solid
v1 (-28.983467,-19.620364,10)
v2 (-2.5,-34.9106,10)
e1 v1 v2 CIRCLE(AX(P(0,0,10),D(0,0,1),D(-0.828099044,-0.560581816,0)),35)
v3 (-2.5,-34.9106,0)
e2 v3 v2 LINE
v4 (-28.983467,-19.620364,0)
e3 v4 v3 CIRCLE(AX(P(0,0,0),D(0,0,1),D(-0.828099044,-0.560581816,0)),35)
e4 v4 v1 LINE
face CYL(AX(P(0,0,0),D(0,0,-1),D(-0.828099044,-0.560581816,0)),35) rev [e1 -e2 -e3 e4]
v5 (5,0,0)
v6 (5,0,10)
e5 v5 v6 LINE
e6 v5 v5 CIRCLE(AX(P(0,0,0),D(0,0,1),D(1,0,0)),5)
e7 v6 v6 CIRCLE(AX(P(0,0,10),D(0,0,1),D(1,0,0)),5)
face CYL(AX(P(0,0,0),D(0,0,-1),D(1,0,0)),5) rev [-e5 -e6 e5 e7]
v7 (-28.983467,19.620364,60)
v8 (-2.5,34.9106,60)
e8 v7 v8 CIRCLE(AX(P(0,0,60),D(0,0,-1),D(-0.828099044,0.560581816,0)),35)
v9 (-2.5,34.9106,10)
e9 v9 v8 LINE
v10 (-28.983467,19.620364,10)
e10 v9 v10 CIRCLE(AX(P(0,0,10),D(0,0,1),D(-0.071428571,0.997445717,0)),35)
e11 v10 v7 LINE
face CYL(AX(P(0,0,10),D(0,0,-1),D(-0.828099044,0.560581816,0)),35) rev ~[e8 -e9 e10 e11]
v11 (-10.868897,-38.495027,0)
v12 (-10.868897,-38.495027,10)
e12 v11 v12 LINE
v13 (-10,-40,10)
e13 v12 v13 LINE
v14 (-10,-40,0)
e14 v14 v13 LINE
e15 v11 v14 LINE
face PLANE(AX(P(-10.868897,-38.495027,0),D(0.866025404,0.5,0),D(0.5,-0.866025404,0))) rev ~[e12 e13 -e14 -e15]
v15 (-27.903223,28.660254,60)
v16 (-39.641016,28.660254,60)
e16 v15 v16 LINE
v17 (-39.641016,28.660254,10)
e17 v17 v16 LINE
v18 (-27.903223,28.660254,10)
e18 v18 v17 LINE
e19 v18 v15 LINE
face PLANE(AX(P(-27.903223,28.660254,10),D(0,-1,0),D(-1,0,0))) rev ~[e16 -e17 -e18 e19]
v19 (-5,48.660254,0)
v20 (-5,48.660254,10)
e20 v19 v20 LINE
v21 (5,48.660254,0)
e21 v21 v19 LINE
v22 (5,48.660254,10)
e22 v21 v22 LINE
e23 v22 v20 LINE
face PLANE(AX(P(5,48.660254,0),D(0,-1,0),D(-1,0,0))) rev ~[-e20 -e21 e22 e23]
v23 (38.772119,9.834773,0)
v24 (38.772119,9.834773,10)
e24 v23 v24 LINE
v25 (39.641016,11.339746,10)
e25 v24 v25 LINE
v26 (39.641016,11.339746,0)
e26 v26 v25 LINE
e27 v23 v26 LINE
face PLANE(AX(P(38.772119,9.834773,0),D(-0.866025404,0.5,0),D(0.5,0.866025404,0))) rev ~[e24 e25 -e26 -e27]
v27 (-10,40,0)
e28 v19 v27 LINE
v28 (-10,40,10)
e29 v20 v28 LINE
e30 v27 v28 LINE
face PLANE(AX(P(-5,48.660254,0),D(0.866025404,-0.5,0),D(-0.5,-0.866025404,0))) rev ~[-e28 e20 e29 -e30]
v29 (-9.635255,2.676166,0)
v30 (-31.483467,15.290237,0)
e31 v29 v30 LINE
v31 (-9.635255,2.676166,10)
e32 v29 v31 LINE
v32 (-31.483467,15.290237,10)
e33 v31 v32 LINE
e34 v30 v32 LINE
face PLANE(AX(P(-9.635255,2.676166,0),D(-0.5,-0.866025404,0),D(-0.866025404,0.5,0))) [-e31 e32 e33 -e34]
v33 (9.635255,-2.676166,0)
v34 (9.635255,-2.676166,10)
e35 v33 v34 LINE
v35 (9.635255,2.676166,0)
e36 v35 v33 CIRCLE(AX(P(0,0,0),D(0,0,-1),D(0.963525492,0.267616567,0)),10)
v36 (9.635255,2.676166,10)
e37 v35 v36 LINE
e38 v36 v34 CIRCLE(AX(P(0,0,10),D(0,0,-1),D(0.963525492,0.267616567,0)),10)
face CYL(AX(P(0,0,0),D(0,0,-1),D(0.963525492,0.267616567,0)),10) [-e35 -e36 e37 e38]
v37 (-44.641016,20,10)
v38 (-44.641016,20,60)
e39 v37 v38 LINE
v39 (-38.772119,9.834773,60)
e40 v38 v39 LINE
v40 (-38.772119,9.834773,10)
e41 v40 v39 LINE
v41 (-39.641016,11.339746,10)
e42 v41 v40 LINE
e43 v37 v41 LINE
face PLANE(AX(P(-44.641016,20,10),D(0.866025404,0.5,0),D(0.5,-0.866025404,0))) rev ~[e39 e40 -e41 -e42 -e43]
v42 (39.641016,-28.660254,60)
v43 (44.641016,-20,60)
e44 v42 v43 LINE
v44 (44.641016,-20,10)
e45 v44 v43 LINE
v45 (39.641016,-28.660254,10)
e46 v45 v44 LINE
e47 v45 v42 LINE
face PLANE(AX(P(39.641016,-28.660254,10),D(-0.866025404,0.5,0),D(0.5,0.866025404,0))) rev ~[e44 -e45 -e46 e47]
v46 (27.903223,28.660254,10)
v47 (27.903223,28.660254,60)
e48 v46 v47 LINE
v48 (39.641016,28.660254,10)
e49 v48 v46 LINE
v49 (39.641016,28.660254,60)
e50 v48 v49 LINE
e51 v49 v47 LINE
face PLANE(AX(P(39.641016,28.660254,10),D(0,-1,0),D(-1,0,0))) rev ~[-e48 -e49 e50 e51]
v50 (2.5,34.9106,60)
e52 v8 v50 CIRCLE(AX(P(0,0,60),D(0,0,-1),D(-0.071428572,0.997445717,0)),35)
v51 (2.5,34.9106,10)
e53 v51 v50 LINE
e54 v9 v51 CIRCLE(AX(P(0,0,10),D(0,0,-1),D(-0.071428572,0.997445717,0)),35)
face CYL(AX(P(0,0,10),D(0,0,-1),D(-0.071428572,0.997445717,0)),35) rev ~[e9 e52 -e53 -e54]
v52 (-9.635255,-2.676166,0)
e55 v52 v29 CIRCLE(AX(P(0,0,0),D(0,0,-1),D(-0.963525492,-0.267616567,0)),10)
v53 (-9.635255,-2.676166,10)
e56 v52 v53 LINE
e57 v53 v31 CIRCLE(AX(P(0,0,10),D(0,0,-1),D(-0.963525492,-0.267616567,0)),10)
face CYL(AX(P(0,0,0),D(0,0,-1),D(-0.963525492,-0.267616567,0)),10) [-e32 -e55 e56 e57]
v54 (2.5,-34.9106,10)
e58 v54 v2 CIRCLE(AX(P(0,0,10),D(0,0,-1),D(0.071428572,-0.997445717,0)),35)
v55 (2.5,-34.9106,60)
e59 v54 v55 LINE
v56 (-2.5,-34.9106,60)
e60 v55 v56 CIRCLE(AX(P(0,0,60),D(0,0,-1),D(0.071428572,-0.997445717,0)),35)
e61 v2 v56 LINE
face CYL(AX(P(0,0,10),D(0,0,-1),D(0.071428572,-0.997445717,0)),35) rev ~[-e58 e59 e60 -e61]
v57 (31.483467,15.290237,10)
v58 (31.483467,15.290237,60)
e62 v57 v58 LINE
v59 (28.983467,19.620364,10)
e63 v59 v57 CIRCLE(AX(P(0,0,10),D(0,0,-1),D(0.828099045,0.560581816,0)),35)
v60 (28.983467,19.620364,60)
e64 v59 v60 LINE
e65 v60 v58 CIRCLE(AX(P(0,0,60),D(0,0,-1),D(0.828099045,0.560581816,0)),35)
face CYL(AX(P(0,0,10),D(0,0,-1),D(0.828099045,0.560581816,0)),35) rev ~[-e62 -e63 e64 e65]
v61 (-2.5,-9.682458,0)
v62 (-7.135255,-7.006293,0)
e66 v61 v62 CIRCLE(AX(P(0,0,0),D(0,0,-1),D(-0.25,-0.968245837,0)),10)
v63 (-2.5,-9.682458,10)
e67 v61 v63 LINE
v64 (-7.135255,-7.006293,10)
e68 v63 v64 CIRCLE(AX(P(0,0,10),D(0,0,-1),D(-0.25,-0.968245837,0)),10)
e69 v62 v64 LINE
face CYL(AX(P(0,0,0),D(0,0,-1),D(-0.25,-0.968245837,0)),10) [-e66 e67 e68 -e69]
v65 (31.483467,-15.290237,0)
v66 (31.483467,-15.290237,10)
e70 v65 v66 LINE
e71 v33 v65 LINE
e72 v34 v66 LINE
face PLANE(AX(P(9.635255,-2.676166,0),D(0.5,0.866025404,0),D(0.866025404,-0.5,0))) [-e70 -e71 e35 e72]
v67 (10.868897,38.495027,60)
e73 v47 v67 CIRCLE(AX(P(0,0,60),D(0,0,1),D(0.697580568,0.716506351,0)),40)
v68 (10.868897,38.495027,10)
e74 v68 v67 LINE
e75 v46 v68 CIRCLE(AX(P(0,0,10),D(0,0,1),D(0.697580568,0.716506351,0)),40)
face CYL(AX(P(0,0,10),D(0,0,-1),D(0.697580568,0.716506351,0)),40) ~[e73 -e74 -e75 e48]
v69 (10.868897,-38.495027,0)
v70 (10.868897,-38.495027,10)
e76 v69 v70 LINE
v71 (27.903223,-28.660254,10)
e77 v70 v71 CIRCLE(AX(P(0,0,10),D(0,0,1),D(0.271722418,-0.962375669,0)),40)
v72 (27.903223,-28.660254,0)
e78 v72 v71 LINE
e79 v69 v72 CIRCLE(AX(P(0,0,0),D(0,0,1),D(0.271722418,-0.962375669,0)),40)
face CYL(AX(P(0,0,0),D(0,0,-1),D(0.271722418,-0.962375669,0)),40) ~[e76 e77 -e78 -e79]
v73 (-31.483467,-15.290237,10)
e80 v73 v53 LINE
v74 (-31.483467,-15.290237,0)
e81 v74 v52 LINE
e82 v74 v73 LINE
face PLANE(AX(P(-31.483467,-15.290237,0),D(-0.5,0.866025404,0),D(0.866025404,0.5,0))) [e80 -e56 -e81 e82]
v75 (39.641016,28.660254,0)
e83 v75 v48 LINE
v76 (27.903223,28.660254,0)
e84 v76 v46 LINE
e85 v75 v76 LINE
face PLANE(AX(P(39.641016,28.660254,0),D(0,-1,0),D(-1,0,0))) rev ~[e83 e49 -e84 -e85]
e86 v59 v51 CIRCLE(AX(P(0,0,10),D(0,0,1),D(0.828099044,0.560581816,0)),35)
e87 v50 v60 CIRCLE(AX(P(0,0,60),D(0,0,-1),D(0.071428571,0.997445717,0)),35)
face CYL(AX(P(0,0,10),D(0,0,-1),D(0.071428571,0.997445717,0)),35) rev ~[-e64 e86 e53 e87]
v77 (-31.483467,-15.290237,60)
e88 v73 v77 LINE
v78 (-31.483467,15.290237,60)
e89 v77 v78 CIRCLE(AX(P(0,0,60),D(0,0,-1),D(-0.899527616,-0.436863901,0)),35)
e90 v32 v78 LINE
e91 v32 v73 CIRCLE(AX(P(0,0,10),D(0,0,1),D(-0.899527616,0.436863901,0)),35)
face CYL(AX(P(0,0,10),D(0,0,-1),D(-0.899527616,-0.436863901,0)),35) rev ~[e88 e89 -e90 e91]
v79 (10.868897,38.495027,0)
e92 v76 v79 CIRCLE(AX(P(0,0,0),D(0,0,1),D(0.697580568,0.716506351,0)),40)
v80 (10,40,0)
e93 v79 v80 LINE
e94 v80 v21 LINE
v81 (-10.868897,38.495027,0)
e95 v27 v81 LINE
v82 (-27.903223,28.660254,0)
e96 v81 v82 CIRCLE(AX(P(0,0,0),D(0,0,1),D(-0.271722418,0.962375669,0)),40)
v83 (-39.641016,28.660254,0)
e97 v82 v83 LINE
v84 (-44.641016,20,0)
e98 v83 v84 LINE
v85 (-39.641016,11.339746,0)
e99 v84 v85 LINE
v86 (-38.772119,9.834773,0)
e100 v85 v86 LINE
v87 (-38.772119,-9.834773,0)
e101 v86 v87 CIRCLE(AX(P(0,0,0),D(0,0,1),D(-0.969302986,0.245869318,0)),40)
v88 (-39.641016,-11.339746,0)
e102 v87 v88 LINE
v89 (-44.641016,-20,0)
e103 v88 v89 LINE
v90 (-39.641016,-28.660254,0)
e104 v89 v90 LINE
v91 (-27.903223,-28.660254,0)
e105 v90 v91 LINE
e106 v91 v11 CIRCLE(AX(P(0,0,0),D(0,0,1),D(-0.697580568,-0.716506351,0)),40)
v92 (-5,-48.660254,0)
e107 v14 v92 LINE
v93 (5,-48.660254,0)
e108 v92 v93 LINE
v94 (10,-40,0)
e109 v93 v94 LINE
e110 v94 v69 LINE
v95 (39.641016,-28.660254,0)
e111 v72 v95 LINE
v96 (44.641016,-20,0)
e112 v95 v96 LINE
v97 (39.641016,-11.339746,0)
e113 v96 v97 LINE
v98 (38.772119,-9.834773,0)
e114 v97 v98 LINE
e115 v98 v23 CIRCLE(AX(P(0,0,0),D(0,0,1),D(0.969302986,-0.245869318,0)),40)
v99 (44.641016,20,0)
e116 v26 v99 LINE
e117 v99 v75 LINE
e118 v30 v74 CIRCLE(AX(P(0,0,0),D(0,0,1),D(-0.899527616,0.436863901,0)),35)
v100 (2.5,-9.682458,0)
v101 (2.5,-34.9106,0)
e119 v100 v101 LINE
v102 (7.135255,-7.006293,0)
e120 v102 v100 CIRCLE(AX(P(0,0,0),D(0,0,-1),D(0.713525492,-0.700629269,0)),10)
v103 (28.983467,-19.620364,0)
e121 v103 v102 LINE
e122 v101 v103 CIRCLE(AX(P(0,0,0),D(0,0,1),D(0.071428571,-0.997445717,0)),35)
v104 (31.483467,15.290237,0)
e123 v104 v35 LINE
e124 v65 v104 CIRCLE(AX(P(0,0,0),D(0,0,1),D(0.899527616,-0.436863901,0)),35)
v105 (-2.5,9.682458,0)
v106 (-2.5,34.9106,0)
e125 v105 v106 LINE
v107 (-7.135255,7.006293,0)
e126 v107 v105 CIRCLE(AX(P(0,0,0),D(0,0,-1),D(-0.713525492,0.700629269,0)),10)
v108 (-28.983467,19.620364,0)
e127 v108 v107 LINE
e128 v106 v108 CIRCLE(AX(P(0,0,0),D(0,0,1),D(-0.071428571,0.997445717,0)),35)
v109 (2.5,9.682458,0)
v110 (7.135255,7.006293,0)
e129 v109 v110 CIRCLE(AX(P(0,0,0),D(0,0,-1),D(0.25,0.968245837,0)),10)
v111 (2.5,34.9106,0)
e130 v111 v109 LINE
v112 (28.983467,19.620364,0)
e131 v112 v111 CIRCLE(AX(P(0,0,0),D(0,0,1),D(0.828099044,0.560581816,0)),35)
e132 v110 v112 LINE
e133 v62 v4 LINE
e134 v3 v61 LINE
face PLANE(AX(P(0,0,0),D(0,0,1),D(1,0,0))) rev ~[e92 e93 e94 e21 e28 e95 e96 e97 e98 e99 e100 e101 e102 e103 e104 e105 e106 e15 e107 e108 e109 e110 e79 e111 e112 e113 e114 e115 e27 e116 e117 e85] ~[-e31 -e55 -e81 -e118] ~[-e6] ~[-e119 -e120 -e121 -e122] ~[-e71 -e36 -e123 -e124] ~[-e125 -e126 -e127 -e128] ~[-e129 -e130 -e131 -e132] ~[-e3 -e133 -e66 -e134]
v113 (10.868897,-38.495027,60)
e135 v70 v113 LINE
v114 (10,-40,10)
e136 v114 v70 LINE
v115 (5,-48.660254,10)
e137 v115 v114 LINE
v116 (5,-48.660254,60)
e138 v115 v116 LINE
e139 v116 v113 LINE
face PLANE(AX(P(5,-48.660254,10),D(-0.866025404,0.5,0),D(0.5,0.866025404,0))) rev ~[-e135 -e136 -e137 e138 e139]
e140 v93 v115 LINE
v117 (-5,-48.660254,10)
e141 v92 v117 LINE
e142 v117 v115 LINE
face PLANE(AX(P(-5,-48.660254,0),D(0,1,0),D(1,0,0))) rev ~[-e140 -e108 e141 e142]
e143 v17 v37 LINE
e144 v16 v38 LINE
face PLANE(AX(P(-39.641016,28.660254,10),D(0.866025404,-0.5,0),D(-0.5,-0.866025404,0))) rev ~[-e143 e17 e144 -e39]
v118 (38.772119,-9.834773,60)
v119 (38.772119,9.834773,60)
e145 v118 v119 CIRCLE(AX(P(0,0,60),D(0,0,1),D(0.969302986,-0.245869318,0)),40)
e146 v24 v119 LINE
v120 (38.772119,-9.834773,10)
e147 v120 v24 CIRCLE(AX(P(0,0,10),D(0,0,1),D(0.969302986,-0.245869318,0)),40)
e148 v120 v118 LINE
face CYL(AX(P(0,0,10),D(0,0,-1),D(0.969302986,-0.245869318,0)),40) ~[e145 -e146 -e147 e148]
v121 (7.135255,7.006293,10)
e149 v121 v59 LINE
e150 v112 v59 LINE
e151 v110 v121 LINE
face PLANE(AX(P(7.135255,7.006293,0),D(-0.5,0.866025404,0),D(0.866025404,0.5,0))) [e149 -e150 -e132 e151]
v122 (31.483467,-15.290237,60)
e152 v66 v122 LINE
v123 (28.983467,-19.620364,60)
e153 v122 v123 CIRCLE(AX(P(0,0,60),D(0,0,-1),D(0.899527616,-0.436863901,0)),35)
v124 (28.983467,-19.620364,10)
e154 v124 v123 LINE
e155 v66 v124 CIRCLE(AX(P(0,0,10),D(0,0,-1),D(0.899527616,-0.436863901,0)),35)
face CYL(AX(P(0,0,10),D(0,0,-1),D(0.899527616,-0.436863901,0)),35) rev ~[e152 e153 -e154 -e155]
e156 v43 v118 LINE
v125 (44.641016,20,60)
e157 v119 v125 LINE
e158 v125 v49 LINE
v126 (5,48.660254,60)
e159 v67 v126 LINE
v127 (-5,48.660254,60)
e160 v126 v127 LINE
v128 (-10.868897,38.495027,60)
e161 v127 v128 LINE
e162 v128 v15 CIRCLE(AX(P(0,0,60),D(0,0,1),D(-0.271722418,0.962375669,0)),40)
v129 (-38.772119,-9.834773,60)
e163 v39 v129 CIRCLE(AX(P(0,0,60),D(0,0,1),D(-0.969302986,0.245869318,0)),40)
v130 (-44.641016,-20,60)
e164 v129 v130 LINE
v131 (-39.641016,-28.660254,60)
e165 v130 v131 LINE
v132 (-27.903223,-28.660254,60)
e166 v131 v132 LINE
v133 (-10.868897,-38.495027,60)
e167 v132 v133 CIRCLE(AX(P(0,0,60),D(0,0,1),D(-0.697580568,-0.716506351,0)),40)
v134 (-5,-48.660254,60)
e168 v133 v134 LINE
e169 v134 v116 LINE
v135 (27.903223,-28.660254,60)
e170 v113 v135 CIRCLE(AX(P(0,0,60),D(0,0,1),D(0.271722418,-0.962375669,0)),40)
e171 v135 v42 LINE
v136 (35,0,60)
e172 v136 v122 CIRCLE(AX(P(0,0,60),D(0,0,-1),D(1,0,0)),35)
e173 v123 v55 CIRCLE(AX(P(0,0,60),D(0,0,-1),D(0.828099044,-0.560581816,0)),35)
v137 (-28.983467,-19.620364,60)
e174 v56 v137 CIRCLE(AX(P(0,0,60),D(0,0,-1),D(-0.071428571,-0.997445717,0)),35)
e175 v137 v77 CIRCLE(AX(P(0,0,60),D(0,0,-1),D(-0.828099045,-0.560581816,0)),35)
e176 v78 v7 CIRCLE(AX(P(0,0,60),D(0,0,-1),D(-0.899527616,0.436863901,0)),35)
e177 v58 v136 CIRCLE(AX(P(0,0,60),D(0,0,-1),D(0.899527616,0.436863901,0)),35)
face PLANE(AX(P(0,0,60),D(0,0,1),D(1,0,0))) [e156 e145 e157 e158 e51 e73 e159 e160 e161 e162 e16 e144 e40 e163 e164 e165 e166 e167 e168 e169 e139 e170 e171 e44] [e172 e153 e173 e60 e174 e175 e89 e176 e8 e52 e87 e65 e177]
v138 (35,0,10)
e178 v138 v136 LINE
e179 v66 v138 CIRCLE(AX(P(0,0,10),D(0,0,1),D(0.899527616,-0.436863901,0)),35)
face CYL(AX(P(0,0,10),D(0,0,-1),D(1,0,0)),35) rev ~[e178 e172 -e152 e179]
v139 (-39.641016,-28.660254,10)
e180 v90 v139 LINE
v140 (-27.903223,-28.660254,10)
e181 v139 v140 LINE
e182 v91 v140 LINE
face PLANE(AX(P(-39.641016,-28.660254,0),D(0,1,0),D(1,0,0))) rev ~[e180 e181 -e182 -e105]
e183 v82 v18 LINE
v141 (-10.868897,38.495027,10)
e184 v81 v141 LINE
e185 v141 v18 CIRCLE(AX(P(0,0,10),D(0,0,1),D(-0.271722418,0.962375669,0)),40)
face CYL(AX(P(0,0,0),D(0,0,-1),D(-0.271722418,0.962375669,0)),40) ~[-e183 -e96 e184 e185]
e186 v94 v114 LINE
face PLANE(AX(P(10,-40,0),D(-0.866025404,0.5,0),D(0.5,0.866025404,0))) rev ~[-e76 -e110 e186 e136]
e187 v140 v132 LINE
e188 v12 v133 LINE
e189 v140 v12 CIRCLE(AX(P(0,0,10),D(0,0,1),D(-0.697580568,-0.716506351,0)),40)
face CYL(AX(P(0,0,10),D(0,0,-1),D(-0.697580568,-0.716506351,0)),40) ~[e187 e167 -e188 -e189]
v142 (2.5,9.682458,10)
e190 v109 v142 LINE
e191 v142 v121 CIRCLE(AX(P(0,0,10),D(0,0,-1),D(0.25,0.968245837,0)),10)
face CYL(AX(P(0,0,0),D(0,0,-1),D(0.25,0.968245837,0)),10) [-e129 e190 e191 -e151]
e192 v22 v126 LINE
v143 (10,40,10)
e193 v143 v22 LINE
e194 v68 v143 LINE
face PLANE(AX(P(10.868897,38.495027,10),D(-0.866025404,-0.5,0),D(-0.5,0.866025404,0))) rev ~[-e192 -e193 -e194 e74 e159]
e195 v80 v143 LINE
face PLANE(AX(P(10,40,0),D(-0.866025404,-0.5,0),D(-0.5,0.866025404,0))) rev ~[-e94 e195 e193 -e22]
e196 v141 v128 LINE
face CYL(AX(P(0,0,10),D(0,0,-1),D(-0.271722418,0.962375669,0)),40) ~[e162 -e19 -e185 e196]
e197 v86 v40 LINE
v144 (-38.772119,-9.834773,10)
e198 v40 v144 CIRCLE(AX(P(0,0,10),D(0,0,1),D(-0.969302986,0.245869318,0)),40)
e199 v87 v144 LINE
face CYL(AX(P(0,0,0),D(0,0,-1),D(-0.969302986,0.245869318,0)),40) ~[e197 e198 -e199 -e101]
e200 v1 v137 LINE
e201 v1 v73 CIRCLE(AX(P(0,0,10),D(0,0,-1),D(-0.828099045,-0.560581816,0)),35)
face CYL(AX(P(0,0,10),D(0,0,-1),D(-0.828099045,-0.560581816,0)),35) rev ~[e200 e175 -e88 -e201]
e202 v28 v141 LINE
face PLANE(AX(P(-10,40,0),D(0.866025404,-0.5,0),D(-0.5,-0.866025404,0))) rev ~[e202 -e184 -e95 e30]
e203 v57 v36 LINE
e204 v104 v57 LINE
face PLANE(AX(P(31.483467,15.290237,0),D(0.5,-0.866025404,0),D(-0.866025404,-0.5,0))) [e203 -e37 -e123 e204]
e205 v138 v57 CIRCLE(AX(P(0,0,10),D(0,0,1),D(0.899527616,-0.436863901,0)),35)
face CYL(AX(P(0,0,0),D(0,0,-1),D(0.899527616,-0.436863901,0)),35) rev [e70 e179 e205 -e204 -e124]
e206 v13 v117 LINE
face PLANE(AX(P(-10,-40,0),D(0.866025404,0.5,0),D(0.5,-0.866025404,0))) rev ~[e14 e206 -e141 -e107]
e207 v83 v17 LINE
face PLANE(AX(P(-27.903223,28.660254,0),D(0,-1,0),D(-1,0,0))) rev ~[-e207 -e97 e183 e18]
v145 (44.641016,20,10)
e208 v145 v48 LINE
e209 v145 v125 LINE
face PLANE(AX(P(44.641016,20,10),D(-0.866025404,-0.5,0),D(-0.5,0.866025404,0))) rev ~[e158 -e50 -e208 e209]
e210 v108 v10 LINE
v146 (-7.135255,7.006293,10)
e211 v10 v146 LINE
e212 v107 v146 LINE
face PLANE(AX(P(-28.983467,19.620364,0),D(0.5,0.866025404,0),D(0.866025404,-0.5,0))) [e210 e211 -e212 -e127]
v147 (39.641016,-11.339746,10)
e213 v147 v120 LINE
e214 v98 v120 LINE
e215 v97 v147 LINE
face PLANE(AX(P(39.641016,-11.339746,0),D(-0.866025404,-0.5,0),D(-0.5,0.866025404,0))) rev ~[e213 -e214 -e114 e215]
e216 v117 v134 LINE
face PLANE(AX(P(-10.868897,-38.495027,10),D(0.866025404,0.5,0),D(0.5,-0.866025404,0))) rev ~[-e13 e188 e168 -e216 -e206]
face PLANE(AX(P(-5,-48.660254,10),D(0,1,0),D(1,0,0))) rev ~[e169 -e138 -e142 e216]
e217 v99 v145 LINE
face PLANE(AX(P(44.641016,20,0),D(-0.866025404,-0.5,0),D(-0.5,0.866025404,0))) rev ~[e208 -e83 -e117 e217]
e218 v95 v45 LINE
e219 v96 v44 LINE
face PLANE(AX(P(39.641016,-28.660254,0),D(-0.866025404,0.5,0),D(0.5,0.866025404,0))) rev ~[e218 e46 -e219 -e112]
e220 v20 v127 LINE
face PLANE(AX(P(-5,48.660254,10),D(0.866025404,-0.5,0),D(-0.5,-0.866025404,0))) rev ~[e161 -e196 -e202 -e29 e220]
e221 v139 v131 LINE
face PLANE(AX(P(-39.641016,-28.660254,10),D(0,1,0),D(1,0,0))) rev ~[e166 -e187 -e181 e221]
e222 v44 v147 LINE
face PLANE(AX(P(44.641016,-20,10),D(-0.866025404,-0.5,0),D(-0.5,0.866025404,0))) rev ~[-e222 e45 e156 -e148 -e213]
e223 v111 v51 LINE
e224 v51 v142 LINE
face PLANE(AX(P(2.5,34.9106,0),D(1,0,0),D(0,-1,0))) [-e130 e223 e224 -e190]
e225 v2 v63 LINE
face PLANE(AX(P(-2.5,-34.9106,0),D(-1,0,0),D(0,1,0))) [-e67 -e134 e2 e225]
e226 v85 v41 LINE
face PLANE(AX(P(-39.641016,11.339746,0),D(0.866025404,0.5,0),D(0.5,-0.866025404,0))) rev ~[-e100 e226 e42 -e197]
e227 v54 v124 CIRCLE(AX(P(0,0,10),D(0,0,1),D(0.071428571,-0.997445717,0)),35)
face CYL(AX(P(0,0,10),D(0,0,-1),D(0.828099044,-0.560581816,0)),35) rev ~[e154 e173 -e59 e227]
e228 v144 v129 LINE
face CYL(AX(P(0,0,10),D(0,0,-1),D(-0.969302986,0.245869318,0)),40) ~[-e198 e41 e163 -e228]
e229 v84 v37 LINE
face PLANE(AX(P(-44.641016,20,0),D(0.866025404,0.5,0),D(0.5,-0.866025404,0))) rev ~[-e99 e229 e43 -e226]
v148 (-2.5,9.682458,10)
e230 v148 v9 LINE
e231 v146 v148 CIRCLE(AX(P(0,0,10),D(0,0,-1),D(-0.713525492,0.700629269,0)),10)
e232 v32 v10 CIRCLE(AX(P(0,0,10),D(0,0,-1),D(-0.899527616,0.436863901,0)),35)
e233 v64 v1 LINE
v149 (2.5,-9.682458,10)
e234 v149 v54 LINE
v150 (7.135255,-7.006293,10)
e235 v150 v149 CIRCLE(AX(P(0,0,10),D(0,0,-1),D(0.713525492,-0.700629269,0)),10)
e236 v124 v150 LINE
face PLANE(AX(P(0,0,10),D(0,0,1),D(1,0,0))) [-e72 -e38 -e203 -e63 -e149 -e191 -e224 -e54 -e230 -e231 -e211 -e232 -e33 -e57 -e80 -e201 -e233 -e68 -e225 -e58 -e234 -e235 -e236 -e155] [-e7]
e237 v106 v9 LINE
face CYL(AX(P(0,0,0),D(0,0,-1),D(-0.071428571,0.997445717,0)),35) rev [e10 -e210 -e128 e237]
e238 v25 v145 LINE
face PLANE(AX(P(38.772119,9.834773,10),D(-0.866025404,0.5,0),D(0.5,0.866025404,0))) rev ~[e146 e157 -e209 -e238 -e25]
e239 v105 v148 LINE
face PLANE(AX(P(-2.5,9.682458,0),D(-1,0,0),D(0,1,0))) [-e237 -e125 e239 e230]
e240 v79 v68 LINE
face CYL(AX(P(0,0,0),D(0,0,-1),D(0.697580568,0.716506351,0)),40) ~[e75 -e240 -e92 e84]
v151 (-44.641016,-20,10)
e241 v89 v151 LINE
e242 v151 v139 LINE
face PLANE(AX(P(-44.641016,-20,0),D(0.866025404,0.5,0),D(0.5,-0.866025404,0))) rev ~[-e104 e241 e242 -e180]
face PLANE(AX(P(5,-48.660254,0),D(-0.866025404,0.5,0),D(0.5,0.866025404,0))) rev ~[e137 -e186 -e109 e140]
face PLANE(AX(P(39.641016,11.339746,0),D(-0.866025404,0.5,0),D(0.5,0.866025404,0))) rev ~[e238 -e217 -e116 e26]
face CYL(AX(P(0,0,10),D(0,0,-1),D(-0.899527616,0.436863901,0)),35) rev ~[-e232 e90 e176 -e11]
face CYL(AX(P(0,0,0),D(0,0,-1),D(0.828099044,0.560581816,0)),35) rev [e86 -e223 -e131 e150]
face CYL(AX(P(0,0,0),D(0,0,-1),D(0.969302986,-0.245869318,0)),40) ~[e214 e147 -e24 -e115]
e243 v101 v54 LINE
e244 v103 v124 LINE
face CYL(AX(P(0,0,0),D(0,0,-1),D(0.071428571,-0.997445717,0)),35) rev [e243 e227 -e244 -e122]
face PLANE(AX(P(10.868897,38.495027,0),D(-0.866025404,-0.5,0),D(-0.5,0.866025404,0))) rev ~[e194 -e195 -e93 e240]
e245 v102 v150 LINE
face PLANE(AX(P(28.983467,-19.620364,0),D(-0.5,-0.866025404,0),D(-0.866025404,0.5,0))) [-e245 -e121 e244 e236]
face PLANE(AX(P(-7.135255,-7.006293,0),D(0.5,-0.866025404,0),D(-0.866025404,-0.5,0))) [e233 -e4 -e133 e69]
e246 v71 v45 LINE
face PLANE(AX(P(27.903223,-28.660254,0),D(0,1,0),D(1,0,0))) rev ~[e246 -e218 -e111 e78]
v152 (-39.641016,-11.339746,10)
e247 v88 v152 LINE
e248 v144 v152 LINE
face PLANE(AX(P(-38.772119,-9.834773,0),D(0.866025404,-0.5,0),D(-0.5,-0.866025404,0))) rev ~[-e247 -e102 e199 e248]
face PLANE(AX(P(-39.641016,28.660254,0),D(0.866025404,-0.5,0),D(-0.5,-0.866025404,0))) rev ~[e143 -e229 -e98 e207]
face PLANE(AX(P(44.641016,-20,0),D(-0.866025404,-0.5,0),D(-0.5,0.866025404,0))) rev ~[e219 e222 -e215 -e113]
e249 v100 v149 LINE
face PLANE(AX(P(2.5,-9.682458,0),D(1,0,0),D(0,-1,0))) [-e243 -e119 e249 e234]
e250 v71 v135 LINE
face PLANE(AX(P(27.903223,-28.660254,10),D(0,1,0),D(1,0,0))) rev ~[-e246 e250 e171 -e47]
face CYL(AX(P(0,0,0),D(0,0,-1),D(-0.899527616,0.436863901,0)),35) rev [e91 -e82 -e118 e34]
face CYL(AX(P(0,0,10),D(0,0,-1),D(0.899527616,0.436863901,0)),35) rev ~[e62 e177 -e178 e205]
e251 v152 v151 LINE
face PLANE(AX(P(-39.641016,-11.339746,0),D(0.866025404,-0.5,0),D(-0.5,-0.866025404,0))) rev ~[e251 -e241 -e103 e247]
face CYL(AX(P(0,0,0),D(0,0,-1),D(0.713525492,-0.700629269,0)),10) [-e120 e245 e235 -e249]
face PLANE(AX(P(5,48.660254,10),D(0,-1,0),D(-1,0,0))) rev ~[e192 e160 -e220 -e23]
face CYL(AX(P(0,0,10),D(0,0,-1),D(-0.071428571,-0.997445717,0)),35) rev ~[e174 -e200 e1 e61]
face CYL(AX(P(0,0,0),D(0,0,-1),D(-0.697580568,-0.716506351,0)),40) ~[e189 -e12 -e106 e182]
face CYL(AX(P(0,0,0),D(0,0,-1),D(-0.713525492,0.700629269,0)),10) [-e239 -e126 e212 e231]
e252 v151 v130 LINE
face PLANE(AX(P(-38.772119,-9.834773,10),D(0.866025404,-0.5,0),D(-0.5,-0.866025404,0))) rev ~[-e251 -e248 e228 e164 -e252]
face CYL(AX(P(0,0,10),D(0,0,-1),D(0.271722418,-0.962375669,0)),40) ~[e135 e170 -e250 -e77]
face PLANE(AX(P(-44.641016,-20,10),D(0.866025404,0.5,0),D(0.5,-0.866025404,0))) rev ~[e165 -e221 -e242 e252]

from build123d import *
from build123d.topology import SkipClean

# Parameters (mm, degrees)
SKETCH1_R           = 5
BOSS_EXTRUDE1_DEPTH = 10
BOSS_EXTRUDE2_DEPTH = 50


with BuildPart() as part:
    # Sketch1 → Boss-Extrude1 (new body)
    with BuildSketch(Plane.XY):
        with BuildLine():
            Line((-5, 48.660254038), (-10, 40))
            Line((-10, 40), (-10.868896713, 38.495026747))
            ThreePointArc((-10.868896713, 38.495026747), (-20, 34.641016151), (-27.903222726, 28.660254038))
            Line((-27.903222726, 28.660254038), (-29.641016151, 28.660254038))
            Line((-29.641016151, 28.660254038), (-39.641016151, 28.660254038))
            Line((-39.641016151, 28.660254038), (-44.641016151, 20))
            Line((-44.641016151, 20), (-39.641016151, 11.339745962))
            Line((-39.641016151, 11.339745962), (-38.772119439, 9.834772709))
            ThreePointArc((-38.772119439, 9.834772709), (-40, 0), (-38.772119439, -9.834772709))
            Line((-38.772119439, -9.834772709), (-39.641016151, -11.339745962))
            Line((-39.641016151, -11.339745962), (-44.641016151, -20))
            Line((-44.641016151, -20), (-39.641016151, -28.660254038))
            Line((-39.641016151, -28.660254038), (-29.641016151, -28.660254038))
            Line((-29.641016151, -28.660254038), (-27.903222726, -28.660254038))
            ThreePointArc((-27.903222726, -28.660254038), (-20, -34.641016151), (-10.868896713, -38.495026747))
            Line((-10.868896713, -38.495026747), (-10, -40))
            Line((-10, -40), (-5, -48.660254038))
            Line((-5, -48.660254038), (5, -48.660254038))
            Line((5, -48.660254038), (10, -40))
            Line((10, -40), (10.868896713, -38.495026747))
            ThreePointArc((10.868896713, -38.495026747), (20, -34.641016151), (27.903222726, -28.660254038))
            Line((27.903222726, -28.660254038), (29.641016151, -28.660254038))
            Line((29.641016151, -28.660254038), (39.641016151, -28.660254038))
            Line((39.641016151, -28.660254038), (44.641016151, -20))
            Line((44.641016151, -20), (39.641016151, -11.339745962))
            Line((39.641016151, -11.339745962), (38.772119439, -9.834772709))
            ThreePointArc((38.772119439, -9.834772709), (40, 0), (38.772119439, 9.834772709))
            Line((38.772119439, 9.834772709), (39.641016151, 11.339745962))
            Line((39.641016151, 11.339745962), (44.641016151, 20))
            Line((44.641016151, 20), (39.641016151, 28.660254038))
            Line((39.641016151, 28.660254038), (29.641016151, 28.660254038))
            Line((29.641016151, 28.660254038), (27.903222726, 28.660254038))
            ThreePointArc((27.903222726, 28.660254038), (20, 34.641016151), (10.868896713, 38.495026747))
            Line((10.868896713, 38.495026747), (10, 40))
            Line((10, 40), (5, 48.660254038))
            Line((5, 48.660254038), (-5, 48.660254038))
        make_face()
        Circle(SKETCH1_R, mode=Mode.SUBTRACT)
        with BuildLine():
            Line((-2.5, 9.682458366), (-2.5, 34.910600109))
            ThreePointArc((-2.5, 34.910600109), (-17.5, 30.310889132), (-28.983466556, 19.620363564))
            Line((-28.983466556, 19.620363564), (-7.135254916, 7.006292692))
            ThreePointArc((-7.135254916, 7.006292692), (-5, 8.660254038), (-2.5, 9.682458366))
        make_face(mode=Mode.SUBTRACT)
        with BuildLine():
            Line((2.5, 34.910600109), (2.5, 9.682458366))
            ThreePointArc((2.5, 9.682458366), (5, 8.660254038), (7.135254916, 7.006292692))
            Line((7.135254916, 7.006292692), (28.983466556, 19.620363564))
            ThreePointArc((28.983466556, 19.620363564), (17.5, 30.310889132), (2.5, 34.910600109))
        make_face(mode=Mode.SUBTRACT)
        with BuildLine():
            Line((31.483466556, 15.290236545), (9.635254916, 2.676165673))
            ThreePointArc((9.635254916, 2.676165673), (10, 0), (9.635254916, -2.676165673))
            Line((9.635254916, -2.676165673), (31.483466556, -15.290236545))
            ThreePointArc((31.483466556, -15.290236545), (35, 0), (31.483466556, 15.290236545))
        make_face(mode=Mode.SUBTRACT)
        with BuildLine():
            Line((28.983466556, -19.620363564), (7.135254916, -7.006292692))
            ThreePointArc((7.135254916, -7.006292692), (5, -8.660254038), (2.5, -9.682458366))
            Line((2.5, -9.682458366), (2.5, -34.910600109))
            ThreePointArc((2.5, -34.910600109), (17.5, -30.310889132), (28.983466556, -19.620363564))
        make_face(mode=Mode.SUBTRACT)
        with BuildLine():
            Line((-2.5, -34.910600109), (-2.5, -9.682458366))
            ThreePointArc((-2.5, -9.682458366), (-5, -8.660254038), (-7.135254916, -7.006292692))
            Line((-7.135254916, -7.006292692), (-28.983466556, -19.620363564))
            ThreePointArc((-28.983466556, -19.620363564), (-17.5, -30.310889132), (-2.5, -34.910600109))
        make_face(mode=Mode.SUBTRACT)
        with BuildLine():
            Line((-31.483466556, -15.290236545), (-9.635254916, -2.676165673))
            ThreePointArc((-9.635254916, -2.676165673), (-10, 0), (-9.635254916, 2.676165673))
            Line((-9.635254916, 2.676165673), (-31.483466556, 15.290236545))
            ThreePointArc((-31.483466556, 15.290236545), (-35, 0), (-31.483466556, -15.290236545))
        make_face(mode=Mode.SUBTRACT)
    extrude(amount=BOSS_EXTRUDE1_DEPTH)

    # Sketch2 → Boss-Extrude2 (add)
    with SkipClean():  # the faces are left unmerged after this step: merging them gives an invalid solid
        with BuildSketch(Plane.XY.offset(10)):
            with BuildLine():
                Line((-44.641016151, 20), (-38.772119439, 9.834772709))
                ThreePointArc((-38.772119439, 9.834772709), (-40, 0), (-38.772119439, -9.834772709))
                Line((-38.772119439, -9.834772709), (-44.641016151, -20))
                Line((-44.641016151, -20), (-39.641016151, -28.660254038))
                Line((-39.641016151, -28.660254038), (-27.903222726, -28.660254038))
                ThreePointArc((-27.903222726, -28.660254038), (-20, -34.641016151), (-10.868896713, -38.495026747))
                Line((-10.868896713, -38.495026747), (-5, -48.660254038))
                Line((-5, -48.660254038), (5, -48.660254038))
                Line((5, -48.660254038), (10.868896713, -38.495026747))
                ThreePointArc((10.868896713, -38.495026747), (20, -34.641016151), (27.903222726, -28.660254038))
                Line((27.903222726, -28.660254038), (39.641016151, -28.660254038))
                Line((39.641016151, -28.660254038), (44.641016151, -20))
                Line((44.641016151, -20), (38.772119439, -9.834772709))
                ThreePointArc((38.772119439, -9.834772709), (40, 0), (38.772119439, 9.834772709))
                Line((38.772119439, 9.834772709), (44.641016151, 20))
                Line((44.641016151, 20), (39.641016151, 28.660254038))
                Line((39.641016151, 28.660254038), (27.903222726, 28.660254038))
                ThreePointArc((27.903222726, 28.660254038), (20, 34.641016151), (10.868896713, 38.495026747))
                Line((10.868896713, 38.495026747), (5, 48.660254038))
                Line((5, 48.660254038), (-5, 48.660254038))
                Line((-5, 48.660254038), (-10.868896713, 38.495026747))
                ThreePointArc((-10.868896713, 38.495026747), (-20, 34.641016151), (-27.903222726, 28.660254038))
                Line((-27.903222726, 28.660254038), (-39.641016151, 28.660254038))
                Line((-39.641016151, 28.660254038), (-44.641016151, 20))
            make_face()
            with BuildLine():
                ThreePointArc((31.483466556, 15.290236545), (34.109539204, 7.844701095), (35, 0))
                ThreePointArc((35, 0), (34.109539204, -7.844701095), (31.483466556, -15.290236545))
                ThreePointArc((31.483466556, -15.290236545), (30.310889132, -17.5), (28.983466556, -19.620363564))
                ThreePointArc((28.983466556, -19.620363564), (17.5, -30.310889132), (2.5, -34.910600109))
                ThreePointArc((2.5, -34.910600109), (0, -35), (-2.5, -34.910600109))
                ThreePointArc((-2.5, -34.910600109), (-17.5, -30.310889132), (-28.983466556, -19.620363564))
                ThreePointArc((-28.983466556, -19.620363564), (-30.310889132, -17.5), (-31.483466556, -15.290236545))
                ThreePointArc((-31.483466556, -15.290236545), (-35, 0), (-31.483466556, 15.290236545))
                ThreePointArc((-31.483466556, 15.290236545), (-30.310889132, 17.5), (-28.983466556, 19.620363564))
                ThreePointArc((-28.983466556, 19.620363564), (-17.5, 30.310889132), (-2.5, 34.910600109))
                ThreePointArc((-2.5, 34.910600109), (0, 35), (2.5, 34.910600109))
                ThreePointArc((2.5, 34.910600109), (17.5, 30.310889132), (28.983466556, 19.620363564))
                ThreePointArc((28.983466556, 19.620363564), (30.310889132, 17.5), (31.483466556, 15.290236545))
            make_face(mode=Mode.SUBTRACT)
        extrude(amount=BOSS_EXTRUDE2_DEPTH)


solid = part.part
